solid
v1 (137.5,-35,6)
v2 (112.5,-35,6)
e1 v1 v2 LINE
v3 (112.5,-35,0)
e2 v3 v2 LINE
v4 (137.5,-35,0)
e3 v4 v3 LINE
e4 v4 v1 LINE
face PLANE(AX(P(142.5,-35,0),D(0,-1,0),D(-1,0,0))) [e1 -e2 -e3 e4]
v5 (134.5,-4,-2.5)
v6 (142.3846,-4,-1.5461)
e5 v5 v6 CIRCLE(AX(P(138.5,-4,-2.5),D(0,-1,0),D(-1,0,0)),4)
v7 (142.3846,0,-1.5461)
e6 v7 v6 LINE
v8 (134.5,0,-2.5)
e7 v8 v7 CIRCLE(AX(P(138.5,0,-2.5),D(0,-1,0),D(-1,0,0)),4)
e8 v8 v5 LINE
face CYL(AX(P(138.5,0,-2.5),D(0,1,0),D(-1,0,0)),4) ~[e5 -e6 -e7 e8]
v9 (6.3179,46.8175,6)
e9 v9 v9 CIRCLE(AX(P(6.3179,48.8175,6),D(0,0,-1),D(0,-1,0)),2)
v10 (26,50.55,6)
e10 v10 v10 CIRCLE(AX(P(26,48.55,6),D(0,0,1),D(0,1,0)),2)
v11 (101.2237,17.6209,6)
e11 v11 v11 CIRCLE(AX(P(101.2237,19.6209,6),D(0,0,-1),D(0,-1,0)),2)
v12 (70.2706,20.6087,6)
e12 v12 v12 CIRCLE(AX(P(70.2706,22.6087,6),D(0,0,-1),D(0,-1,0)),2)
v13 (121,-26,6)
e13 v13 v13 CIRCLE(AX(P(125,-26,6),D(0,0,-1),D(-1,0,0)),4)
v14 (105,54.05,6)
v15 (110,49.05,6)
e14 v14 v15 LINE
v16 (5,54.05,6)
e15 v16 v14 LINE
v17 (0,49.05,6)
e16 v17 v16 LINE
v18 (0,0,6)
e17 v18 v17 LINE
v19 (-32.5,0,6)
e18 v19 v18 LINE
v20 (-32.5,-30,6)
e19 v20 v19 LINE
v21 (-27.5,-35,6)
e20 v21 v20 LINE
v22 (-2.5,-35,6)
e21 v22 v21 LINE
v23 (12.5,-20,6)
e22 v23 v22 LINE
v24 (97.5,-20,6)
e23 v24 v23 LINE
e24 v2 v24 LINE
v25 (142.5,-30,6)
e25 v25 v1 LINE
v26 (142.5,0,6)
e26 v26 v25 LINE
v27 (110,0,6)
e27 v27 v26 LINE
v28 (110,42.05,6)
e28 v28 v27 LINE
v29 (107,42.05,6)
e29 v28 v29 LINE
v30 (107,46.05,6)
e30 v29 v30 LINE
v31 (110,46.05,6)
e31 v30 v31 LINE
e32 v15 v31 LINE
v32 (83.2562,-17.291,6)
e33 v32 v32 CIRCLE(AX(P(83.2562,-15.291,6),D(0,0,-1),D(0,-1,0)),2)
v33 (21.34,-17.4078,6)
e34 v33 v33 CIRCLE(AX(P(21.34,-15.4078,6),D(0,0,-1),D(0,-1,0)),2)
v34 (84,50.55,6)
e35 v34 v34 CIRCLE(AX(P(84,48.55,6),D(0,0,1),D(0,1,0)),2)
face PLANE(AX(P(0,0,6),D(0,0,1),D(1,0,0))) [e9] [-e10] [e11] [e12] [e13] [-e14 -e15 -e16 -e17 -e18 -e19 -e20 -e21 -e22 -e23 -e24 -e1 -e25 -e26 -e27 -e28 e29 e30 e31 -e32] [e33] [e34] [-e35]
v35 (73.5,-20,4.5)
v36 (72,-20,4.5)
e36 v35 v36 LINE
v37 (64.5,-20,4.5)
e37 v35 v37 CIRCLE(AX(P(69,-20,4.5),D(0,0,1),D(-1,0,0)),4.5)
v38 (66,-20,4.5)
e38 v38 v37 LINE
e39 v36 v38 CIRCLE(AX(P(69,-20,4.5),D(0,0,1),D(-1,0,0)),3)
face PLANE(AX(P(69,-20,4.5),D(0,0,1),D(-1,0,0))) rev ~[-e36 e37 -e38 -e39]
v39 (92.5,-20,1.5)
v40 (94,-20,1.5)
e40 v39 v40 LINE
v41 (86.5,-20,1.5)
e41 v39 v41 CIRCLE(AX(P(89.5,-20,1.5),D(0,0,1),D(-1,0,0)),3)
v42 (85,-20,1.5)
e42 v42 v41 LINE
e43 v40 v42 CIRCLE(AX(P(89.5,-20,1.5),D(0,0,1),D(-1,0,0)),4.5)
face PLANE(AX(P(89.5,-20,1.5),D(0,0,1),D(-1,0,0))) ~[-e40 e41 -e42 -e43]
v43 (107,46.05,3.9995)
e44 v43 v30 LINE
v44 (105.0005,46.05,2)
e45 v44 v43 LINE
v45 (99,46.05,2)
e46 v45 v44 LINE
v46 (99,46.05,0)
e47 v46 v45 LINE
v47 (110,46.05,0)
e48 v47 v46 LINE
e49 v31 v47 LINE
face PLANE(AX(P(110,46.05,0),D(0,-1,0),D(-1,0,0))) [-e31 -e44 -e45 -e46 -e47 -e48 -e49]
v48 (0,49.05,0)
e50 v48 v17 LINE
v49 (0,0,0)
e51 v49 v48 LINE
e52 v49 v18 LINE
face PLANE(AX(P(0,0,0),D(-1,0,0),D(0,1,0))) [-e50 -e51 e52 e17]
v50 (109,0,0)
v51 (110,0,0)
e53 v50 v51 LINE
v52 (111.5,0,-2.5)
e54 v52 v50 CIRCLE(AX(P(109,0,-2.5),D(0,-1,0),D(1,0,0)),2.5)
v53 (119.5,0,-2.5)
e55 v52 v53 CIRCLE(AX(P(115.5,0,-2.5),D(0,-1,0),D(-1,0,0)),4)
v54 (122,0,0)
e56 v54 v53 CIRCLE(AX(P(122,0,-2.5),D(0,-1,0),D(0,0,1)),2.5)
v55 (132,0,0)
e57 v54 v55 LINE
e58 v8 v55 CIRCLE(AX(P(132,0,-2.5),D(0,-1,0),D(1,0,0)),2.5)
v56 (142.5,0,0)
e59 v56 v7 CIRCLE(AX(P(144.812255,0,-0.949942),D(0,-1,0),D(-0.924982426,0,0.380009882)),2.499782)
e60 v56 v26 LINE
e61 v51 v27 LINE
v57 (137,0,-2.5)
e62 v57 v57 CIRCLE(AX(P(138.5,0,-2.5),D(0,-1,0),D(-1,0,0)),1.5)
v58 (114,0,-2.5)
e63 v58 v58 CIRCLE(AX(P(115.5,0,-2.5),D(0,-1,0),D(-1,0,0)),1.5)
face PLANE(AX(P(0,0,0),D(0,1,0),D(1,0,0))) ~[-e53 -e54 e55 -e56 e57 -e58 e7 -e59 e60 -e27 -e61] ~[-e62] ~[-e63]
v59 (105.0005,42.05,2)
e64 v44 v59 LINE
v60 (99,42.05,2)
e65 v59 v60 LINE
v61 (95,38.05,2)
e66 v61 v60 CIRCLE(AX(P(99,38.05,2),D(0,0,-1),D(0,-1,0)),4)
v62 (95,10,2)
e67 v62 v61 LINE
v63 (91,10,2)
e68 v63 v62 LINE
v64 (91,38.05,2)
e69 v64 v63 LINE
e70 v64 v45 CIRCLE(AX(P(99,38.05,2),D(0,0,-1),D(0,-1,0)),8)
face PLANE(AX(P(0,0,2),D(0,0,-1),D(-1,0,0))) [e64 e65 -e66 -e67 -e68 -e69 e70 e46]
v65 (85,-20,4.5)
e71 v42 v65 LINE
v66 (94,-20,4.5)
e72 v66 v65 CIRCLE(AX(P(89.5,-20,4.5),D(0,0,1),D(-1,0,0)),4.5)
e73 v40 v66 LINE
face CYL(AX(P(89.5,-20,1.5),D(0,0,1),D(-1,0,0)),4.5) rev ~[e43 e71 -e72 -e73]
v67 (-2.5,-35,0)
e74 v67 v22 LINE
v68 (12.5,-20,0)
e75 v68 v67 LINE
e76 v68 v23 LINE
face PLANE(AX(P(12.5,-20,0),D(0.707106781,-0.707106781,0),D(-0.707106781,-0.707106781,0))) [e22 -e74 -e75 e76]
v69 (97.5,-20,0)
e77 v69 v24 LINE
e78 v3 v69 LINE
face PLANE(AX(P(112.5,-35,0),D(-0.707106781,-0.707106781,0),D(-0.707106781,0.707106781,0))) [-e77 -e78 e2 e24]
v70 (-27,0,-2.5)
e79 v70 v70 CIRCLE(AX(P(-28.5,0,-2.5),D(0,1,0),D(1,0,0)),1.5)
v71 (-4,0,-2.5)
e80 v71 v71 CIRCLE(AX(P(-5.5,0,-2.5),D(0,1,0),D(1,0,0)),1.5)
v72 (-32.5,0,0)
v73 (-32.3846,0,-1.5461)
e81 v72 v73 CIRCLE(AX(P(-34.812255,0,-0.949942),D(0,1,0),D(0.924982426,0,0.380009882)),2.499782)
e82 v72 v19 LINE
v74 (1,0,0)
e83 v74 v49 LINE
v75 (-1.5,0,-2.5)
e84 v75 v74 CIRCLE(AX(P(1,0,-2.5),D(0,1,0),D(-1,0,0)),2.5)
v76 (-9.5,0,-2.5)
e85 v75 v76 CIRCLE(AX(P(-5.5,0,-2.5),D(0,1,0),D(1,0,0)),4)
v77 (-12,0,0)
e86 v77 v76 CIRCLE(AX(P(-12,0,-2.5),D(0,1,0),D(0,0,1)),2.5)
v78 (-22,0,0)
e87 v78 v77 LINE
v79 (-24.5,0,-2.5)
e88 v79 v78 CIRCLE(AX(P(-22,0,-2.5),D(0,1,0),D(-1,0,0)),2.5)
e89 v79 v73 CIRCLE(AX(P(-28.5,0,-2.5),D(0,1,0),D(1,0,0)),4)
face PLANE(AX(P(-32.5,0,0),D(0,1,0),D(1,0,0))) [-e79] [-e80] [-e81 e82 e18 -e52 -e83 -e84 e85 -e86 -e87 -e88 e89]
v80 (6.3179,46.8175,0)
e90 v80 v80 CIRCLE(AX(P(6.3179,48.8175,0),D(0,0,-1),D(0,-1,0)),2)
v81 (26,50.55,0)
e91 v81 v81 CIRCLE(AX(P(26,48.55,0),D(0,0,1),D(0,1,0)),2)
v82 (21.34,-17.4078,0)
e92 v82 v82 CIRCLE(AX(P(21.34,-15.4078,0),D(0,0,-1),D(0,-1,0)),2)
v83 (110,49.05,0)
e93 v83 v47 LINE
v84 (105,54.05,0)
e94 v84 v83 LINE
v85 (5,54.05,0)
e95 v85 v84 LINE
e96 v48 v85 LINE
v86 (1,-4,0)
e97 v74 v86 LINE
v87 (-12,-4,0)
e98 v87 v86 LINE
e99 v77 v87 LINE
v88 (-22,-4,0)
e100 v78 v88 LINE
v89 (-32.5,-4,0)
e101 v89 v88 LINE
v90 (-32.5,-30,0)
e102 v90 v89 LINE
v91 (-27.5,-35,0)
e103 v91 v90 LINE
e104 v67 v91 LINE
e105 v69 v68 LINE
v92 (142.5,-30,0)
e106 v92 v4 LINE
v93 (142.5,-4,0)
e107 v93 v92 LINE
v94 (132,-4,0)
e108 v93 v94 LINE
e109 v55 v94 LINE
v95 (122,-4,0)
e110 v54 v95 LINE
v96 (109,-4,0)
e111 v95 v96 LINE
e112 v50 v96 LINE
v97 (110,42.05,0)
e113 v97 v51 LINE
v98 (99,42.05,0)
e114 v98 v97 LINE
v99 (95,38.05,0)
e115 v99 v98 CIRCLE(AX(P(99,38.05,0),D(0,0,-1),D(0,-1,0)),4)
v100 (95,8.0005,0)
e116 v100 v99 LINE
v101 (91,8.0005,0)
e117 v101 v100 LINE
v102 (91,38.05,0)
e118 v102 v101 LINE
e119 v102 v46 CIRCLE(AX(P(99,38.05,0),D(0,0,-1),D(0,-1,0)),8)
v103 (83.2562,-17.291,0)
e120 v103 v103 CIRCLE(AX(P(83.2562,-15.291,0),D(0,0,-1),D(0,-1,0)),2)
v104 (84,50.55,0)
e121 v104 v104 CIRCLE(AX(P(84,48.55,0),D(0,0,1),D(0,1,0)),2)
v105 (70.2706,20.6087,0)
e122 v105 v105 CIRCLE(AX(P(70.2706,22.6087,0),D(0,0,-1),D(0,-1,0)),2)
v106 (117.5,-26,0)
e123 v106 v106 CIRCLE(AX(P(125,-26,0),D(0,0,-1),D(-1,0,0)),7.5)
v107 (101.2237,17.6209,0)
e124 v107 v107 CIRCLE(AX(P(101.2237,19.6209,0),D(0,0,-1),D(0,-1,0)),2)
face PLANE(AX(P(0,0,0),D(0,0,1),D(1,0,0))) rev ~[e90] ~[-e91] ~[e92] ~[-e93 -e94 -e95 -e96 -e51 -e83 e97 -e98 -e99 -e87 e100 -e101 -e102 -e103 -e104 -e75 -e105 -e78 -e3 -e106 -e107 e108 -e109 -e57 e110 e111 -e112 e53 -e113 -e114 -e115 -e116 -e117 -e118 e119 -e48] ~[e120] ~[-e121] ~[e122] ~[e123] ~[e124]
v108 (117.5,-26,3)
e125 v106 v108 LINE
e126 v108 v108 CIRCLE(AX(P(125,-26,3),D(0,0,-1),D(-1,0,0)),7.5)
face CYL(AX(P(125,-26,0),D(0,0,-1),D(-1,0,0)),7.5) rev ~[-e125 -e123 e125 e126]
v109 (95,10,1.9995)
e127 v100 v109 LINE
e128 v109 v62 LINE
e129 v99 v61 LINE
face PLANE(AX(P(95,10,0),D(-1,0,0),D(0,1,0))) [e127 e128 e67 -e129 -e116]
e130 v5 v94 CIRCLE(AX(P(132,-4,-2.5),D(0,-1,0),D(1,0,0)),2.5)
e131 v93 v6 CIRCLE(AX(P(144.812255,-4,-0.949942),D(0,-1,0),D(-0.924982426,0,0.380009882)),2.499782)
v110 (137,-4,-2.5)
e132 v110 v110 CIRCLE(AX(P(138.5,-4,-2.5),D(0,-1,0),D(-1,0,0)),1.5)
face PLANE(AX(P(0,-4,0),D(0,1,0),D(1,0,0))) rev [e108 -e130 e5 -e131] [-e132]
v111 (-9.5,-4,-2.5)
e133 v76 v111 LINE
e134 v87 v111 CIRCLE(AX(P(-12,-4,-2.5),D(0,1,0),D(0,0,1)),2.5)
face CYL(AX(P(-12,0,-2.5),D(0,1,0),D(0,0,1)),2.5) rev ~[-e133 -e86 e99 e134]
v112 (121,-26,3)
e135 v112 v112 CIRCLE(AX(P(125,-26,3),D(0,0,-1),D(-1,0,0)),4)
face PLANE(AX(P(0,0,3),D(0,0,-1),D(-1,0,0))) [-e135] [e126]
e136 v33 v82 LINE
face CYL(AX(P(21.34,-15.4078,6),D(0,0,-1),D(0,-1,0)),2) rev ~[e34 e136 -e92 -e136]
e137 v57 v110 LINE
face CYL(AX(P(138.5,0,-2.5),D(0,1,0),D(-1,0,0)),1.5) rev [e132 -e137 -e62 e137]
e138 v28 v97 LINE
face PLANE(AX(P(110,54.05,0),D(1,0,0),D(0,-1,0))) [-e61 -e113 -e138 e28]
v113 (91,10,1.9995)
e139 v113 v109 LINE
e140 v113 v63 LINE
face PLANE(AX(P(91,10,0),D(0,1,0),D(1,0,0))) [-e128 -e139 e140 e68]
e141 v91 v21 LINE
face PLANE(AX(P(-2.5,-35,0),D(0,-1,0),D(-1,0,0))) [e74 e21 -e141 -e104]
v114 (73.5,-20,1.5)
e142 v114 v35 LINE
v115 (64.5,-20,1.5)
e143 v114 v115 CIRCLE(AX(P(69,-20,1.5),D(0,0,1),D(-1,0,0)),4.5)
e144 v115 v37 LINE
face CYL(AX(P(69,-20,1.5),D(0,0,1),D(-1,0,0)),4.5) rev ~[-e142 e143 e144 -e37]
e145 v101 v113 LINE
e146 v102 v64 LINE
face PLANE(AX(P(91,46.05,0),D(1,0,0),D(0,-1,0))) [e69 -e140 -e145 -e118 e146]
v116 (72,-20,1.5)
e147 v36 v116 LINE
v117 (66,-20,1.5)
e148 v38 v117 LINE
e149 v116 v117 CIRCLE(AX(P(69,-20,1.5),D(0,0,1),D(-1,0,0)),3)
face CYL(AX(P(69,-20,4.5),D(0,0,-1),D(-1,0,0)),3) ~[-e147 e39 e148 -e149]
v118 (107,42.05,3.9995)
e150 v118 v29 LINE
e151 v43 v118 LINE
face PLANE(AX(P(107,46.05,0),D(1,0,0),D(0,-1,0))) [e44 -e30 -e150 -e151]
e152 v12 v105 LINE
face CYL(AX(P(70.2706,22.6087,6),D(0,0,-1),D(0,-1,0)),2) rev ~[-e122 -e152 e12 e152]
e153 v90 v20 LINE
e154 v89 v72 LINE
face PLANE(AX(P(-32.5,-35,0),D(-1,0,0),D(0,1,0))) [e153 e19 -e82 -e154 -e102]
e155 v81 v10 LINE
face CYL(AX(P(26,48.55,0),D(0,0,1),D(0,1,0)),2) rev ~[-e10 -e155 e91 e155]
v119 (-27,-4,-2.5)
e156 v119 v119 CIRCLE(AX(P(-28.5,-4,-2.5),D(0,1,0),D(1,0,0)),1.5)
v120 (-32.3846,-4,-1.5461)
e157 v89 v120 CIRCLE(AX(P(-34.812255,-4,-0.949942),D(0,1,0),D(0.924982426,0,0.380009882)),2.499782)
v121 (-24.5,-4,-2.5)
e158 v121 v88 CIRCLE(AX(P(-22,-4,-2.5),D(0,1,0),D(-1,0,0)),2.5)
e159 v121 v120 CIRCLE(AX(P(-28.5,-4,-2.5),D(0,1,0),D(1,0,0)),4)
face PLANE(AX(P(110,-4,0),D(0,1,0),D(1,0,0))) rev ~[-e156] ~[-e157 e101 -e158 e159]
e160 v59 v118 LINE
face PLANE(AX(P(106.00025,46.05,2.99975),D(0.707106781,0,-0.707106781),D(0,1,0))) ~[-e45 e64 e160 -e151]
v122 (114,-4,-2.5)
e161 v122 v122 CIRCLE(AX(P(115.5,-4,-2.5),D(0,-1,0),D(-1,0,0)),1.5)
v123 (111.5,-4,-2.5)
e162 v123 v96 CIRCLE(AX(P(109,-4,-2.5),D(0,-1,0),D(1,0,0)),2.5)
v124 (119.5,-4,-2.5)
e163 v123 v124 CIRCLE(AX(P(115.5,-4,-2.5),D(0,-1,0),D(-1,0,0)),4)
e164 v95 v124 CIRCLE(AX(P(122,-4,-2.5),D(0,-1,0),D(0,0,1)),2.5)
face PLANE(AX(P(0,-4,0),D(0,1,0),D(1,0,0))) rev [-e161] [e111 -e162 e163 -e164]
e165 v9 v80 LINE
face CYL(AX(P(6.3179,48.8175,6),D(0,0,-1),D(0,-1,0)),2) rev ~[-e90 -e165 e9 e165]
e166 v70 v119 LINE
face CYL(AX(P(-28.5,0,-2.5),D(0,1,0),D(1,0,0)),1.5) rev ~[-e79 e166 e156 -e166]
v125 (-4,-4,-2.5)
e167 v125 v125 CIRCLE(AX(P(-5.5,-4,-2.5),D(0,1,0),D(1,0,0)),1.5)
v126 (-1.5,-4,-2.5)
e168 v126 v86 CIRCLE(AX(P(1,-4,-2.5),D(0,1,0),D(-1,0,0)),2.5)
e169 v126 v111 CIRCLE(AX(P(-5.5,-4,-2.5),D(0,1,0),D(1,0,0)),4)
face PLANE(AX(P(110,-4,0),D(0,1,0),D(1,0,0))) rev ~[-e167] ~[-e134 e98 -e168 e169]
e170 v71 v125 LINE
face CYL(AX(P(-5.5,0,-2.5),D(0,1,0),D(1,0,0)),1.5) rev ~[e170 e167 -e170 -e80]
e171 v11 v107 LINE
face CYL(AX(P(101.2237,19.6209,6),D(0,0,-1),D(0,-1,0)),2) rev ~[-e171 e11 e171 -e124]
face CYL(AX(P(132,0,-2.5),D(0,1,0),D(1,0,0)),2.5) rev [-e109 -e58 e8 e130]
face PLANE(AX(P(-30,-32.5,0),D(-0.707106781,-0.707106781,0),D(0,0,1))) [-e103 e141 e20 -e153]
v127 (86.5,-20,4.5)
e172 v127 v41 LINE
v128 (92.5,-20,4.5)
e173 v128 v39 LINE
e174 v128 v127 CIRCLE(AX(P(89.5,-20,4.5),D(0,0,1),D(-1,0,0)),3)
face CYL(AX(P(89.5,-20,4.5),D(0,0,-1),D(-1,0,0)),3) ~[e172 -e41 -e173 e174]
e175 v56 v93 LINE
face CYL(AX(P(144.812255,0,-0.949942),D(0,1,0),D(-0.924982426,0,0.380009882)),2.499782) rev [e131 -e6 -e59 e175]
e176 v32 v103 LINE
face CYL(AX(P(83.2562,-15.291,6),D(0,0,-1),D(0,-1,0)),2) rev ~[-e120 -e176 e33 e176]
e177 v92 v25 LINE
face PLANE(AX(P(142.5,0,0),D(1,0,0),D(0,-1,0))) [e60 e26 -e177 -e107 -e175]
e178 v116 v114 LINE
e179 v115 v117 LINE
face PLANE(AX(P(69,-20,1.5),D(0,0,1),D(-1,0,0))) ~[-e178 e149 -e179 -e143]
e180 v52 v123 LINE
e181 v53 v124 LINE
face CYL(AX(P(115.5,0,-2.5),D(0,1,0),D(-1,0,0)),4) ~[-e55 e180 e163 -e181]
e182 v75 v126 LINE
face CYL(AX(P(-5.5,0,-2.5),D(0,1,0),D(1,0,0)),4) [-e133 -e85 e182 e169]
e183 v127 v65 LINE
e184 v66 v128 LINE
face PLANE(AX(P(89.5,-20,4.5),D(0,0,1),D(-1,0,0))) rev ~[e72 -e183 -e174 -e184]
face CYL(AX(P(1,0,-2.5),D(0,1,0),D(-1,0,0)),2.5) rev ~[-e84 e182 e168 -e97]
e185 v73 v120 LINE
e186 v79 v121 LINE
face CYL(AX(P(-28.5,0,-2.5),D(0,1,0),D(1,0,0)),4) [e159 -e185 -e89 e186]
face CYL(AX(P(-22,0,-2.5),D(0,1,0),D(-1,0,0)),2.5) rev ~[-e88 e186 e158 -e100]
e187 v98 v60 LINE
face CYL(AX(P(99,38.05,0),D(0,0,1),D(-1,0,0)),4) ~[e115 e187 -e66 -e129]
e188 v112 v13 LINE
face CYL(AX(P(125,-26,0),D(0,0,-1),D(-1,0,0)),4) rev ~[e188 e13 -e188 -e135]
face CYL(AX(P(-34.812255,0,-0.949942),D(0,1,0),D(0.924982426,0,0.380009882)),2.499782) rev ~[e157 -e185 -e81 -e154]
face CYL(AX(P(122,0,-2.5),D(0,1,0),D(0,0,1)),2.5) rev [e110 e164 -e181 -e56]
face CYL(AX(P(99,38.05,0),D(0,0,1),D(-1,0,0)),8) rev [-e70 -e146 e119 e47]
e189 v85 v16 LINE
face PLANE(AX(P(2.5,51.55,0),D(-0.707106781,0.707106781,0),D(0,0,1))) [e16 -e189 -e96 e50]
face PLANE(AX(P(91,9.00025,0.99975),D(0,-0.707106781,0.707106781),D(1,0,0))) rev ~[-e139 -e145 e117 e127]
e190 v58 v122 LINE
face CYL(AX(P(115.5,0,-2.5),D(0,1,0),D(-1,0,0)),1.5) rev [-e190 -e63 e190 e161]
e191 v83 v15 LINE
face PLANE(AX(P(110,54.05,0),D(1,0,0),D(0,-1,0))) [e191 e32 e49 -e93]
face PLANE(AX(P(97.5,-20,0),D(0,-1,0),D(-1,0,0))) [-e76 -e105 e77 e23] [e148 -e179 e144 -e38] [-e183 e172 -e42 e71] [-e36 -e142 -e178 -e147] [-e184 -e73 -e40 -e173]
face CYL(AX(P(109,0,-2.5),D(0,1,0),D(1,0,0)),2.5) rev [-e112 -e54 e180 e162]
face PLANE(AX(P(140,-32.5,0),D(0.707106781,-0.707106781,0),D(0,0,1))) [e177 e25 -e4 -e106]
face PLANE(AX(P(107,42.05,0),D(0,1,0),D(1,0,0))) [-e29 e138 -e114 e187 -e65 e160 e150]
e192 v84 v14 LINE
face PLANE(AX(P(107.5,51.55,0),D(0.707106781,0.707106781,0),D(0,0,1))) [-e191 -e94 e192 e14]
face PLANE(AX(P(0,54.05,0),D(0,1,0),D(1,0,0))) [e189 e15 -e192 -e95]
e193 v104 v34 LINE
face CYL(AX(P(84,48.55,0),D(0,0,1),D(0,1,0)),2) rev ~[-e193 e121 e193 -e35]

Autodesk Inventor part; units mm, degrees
ref_plane "YZ Plane" through (0, 0, 0) normal (1, 0, 0) x (0, 1, 0)
ref_plane "XZ Plane" through (0, 0, 0) normal (0, 1, 0) x (-1, 0, 0)
sketch "Sketch1" plane through (0, 0, 0) normal (0, 0, 1) x (1, 0, 0)
  line L0 (-32.5, 0) -> (0, 0)
  line L1 (0, 0) -> (0, 54.05)
  line L2 (0, 54.05) -> (110, 54.05)
  line L3 (110, 54.05) -> (110, 0)
  line L4 (110, 0) -> (142.5, 0)
  line L5 (142.5, 0) -> (142.5, -35)
  line L6 (142.5, -35) -> (112.5, -35)
  line L7 (112.5, -35) -> (97.5, -20)
  line L8 (97.5, -20) -> (12.5, -20)
  line L9 (12.5, -20) -> (-2.5, -35)
  line L10 (-2.5, -35) -> (-32.5, -35)
  line L11 (-32.5, -35) -> (-32.5, 0)
  dimension "d0" = 135
  dimension "d1" = 135
  dimension "d2" = 110
  dimension "d3" = 54.05
  dimension "d4" = 35
  dimension "d5" = 32.5
  dimension "d6" = 20
  dimension "d7" = 30
extrude "Extrusion1" add sketch "Sketch1" along normal blind 6
chamfer "Chamfer1" distance 5 angle 45 4 edges at (0, 54.05, 3) (110, 54.05, 3) (-32.5, -35, 3) (142.5, -35, 3)
sketch "Sketch2" plane through (110, 0, 0) normal (0, 1, 0) x (1, 0, 0)
  circle A0 centre (-138.5, 2.5) radius 1.5
  circle A1 centre (-115.5, 2.5) radius 1.5
  line L0 (-142.5, 0) -> (-142.5, -6) projected
  line L1 (-110, 0) -> (-142.5, 0) projected
  circle A2 centre (-138.5, 2.5) radius 4
  line L2 (-142.5, 0) -> (-112.5, 0) projected
  arc A3 (-142.5, 0) -> (-142.3846, 1.5461) centre (-144.8125, 0.95) ccw
  arc A4 (-134.5, 2.5) -> (-132, 0) centre (-132, 2.5) ccw
  arc A5 (-122, 0) -> (-119.5, 2.5) centre (-122, 2.5) ccw
  arc A6 (-111.5, 2.5) -> (-109, 0) centre (-109, 2.5) ccw
  circle A7 centre (-115.5, 2.5) radius 4
  line L3 (-109, 0) -> (-112.3775, 0)
  line L4 (-112.5, 0) -> (-97.5, 0) projected
  point P0 (-122, 0)
  point P1 (-132, 0)
  point P2 (-118.6225, 0)
  point P3 (-112.3775, 0)
  dimension "d13" = 3
  dimension "d14" = 3
  dimension "d15" = 4
  dimension "d16" = 27
  dimension "d17" = 2.5
  dimension "d18" = 8
extrude "Extrusion2" add sketch "Sketch2" against normal blind 4 contours L1 A2 A4 | L1 A7 A6 L3 | L1 A7 | L1 A5 A7 | L1 A2 | L1 A3 A2 picked at (-115.6011, 0.337) picked at (-138.4397, 0.337)
sketch "Sketch3" plane through (0, 0, 0) normal (0, 0, -1) x (-1, 0, 0)
  line L0 (-105, 54.05) -> (-5, 54.05) projected
  line L1 (0, 49.05) -> (0, 0) projected
  line L2 (-110, 0) -> (-110, 49.05) projected
  point P0 (-84, 48.55)
  point P1 (-26, 48.55)
  dimension "d21" = 5.5
  dimension "d22" = 26
  dimension "d23" = 26
hole "Hole1" at (84, 48.55, 0) at (26, 48.55, 0) direction (0, 0, 1) diameter 4 depth 24
sketch "Sketch4" plane through (12.5, -20, 0) normal (0, -1, 0) x (1, 0, 0)
  line L0 (74, 1.5) -> (72.5, 1.5)
  line L1 (72.5, 1.5) -> (72.5, 4.5)
  line L2 (72.5, 4.5) -> (74, 4.5)
  line L3 (74, 4.5) -> (74, 1.5)
  line L4 (77, 1.5) -> (77, 4.5)
  line L5 (-15, 0) -> (-15, 6) projected
  line L6 (85, 0) -> (85, 6) projected
  line L7 (53.5, 1.5) -> (52, 1.5)
  line L8 (52, 1.5) -> (52, 4.5)
  line L9 (52, 4.5) -> (53.5, 4.5)
  line L10 (53.5, 4.5) -> (53.5, 1.5)
  line L11 (56.5, 1.5) -> (56.5, 4.5)
  point P0 (-12.5, 0)
  point P1 (72.5, 3)
  point P2 (-15, 3)
  point P3 (77, 3)
  point P4 (74, 3)
  point P5 (53.5, 3)
  point P6 (56.5, 3)
  dimension "d31" = 1.5
  dimension "d32" = 3
  dimension "d33" = 3
  dimension "d35" = 8
  dimension "d36" = 1.5
  dimension "d37" = 3
  dimension "d38" = 3
  dimension "d39" = 16
revolve "Revolution1" cut sketch "Sketch4" angle 360 about axis through (89.5, -20, 1.5) along (0, 0, 1) contours L0 L1 L2 L3
revolve "Revolution2" cut sketch "Sketch4" angle 360 about axis through (69, -20, 1.5) along (0, 0, 1) contours L7 L8 L9 L10
ref_plane "Work Plane1" through (55, 0, 6) normal (1, 0, 0) x (0, 0, -1)
mirror "Mirror1" about plane through (55, 0, 6) normal (1, 0, 0) of "Extrusion2"
sketch "Sketch5" plane through (0, 0, 6) normal (0, 0, 1) x (1, 0, 0)
  circle A0 centre (101.2237, 19.6209) radius 1.6
  circle A1 centre (70.2706, 22.6087) radius 1.6
  circle A2 centre (21.34, -15.4078) radius 1.6
  circle A3 centre (83.2562, -15.291) radius 1.6
  circle A4 centre (6.3179, 48.8175) radius 1.6
  circle A5 centre (70.2706, 22.6087) radius 4
  circle A6 centre (101.2237, 19.6209) radius 4
  circle A7 centre (83.2562, -15.291) radius 4
  circle A8 centre (21.34, -15.4078) radius 4
  circle A9 centre (6.3179, 48.8175) radius 4
  line L0 (109, 0) -> (109, -4) projected
  line L1 (12.5, -20) -> (97.5, -20) projected
  line L2 (110, 0) -> (97.5, -20)
  circle A10 centre (26, 48.55) radius 2
  circle A11 centre (84, 48.55) radius 2
  circle A12 centre (26, 48.55) radius 4
  circle A13 centre (84, 48.55) radius 4
  circle A14 centre (84, 48.55) radius 2
  circle A15 centre (26, 48.55) radius 2
  line L3 (105, 54.05) -> (110, 49.05) projected
  line L4 (105, 54.05) -> (5, 54.05) projected
  line L5 (0, 49.05) -> (5, 54.05) projected
  line L6 (0, 49.05) -> (0, 0) projected
  line L7 (0, 0) -> (-32.5, 0) projected
  line L8 (-32.5, 0) -> (-32.5, -30) projected
  line L9 (-27.5, -35) -> (-2.5, -35) projected
  line L10 (-2.5, -35) -> (12.5, -20) projected
  line L11 (12.5, -20) -> (97.5, -20) projected
  line L12 (97.5, -20) -> (112.5, -35) projected
  line L13 (112.5, -35) -> (137.5, -35) projected
  line L14 (142.5, -30) -> (142.5, 0) projected
  line L15 (142.5, 0) -> (110, 0) projected
  line L16 (110, 0) -> (110, 49.05) projected
  line L17 (0, 49.05) -> (5, 54.05) projected
  line L18 (105, 54.05) -> (5, 54.05) projected
  line L19 (105, 54.05) -> (110, 49.05) projected
  line L20 (142.5, -30) -> (137.5, -35) projected
  line L21 (-27.5, -35) -> (-32.5, -30) projected
  circle A16 centre (6.3179, 48.8175) radius 1.6
  circle A17 centre (21.34, -15.4078) radius 1.6
  circle A18 centre (70.2706, 22.6087) radius 1.6
  circle A19 centre (101.2237, 19.6209) radius 1.6
  circle A20 centre (83.2562, -15.291) radius 1.6
  line L22 (110, 0) -> (110, 49.05) projected
  line L23 (0, 49.05) -> (0, 0) projected
  dimension "d41" = 8
  dimension "d82" = 5.5
  dimension "d83" = 5.5
  dimension "d84" = 26
  dimension "d85" = 26
hole "Hole2" at (6.3179, 48.8175, 6) at (70.2706, 22.6087, 6) at (101.2237, 19.6209, 6) at (83.2562, -15.291, 6) at (21.34, -15.4078, 6) direction (0, 0, -1) diameter 4 depth 24
sketch "Sketch6" plane through (0, 0, 0) normal (0, 0, -1) x (-1, 0, 0)
  line L0 (-110, 0) -> (-110, 49.05) projected
  line L1 (-110, 46.05) -> (-107, 46.05)
  line L2 (-107, 46.05) -> (-91, 46.05)
  line L3 (-91, 46.05) -> (-91, 10)
  line L4 (-91, 10) -> (-95, 10)
  line L5 (-95, 10) -> (-95, 42.05)
  line L6 (-95, 42.05) -> (-110, 42.05)
  line L7 (-110, 0) -> (-110, 49.05) projected
  line L8 (-12.5, -20) -> (-97.5, -20) projected
  line L9 (-107, 46.05) -> (-107, 42.05)
  point P0 (0, 0)
  dimension "d49" = 30
  dimension "d50" = 4
  dimension "d51" = 4
  dimension "d55" = 15
  dimension "d68" = 3
  dimension "d69" = 3
extrude "Extrusion3" cut sketch "Sketch6" against normal blind 2
extrude "Extrusion4" cut sketch "Sketch6" against normal through all contours L0 L1 L9 L6
fillet "Fillet1" radius 4 1 edges at (95, 42.05, 1)
fillet "Fillet2" radius 8 1 edges at (91, 46.05, 1)
chamfer "Chamfer2" distance 2 angle 45 2 edges at (93, 10, 0) (107, 44.05, 2)
sketch "Sketch7" plane through (0, 0, 0) normal (0, 0, -1) x (-1, 0, 0)
  circle A0 centre (-125, -26) radius 4
  circle A1 centre (-125, -26) radius 5 construction
  circle A2 centre (-125, -26) radius 9 construction
  line L0 (-112.5, -35) -> (-137.5, -35) projected
  circle A3 centre (-125, -26) radius 7.5
  point P0 (0, 0)
  point P1 (-125, -35)
  dimension "d70" = 8
  dimension "d71" = 10
  dimension "d72" = 18
  dimension "d75" = 15
extrude "Extrusion5" cut sketch "Sketch7" against normal through all contours A0
extrude "Extrusion6" cut sketch "Sketch7" against normal blind 3 contours A0 | A3
equation "\"d51\" = d50"
equation "\"d61\" = d60 + d50"
equation "\"MotorHeight\" = MotorHeightBase"
equation "\"d60\" = 4"
equation "\"MotorHeightBase\" = 28"
properties part number "Motor Side Foot"
